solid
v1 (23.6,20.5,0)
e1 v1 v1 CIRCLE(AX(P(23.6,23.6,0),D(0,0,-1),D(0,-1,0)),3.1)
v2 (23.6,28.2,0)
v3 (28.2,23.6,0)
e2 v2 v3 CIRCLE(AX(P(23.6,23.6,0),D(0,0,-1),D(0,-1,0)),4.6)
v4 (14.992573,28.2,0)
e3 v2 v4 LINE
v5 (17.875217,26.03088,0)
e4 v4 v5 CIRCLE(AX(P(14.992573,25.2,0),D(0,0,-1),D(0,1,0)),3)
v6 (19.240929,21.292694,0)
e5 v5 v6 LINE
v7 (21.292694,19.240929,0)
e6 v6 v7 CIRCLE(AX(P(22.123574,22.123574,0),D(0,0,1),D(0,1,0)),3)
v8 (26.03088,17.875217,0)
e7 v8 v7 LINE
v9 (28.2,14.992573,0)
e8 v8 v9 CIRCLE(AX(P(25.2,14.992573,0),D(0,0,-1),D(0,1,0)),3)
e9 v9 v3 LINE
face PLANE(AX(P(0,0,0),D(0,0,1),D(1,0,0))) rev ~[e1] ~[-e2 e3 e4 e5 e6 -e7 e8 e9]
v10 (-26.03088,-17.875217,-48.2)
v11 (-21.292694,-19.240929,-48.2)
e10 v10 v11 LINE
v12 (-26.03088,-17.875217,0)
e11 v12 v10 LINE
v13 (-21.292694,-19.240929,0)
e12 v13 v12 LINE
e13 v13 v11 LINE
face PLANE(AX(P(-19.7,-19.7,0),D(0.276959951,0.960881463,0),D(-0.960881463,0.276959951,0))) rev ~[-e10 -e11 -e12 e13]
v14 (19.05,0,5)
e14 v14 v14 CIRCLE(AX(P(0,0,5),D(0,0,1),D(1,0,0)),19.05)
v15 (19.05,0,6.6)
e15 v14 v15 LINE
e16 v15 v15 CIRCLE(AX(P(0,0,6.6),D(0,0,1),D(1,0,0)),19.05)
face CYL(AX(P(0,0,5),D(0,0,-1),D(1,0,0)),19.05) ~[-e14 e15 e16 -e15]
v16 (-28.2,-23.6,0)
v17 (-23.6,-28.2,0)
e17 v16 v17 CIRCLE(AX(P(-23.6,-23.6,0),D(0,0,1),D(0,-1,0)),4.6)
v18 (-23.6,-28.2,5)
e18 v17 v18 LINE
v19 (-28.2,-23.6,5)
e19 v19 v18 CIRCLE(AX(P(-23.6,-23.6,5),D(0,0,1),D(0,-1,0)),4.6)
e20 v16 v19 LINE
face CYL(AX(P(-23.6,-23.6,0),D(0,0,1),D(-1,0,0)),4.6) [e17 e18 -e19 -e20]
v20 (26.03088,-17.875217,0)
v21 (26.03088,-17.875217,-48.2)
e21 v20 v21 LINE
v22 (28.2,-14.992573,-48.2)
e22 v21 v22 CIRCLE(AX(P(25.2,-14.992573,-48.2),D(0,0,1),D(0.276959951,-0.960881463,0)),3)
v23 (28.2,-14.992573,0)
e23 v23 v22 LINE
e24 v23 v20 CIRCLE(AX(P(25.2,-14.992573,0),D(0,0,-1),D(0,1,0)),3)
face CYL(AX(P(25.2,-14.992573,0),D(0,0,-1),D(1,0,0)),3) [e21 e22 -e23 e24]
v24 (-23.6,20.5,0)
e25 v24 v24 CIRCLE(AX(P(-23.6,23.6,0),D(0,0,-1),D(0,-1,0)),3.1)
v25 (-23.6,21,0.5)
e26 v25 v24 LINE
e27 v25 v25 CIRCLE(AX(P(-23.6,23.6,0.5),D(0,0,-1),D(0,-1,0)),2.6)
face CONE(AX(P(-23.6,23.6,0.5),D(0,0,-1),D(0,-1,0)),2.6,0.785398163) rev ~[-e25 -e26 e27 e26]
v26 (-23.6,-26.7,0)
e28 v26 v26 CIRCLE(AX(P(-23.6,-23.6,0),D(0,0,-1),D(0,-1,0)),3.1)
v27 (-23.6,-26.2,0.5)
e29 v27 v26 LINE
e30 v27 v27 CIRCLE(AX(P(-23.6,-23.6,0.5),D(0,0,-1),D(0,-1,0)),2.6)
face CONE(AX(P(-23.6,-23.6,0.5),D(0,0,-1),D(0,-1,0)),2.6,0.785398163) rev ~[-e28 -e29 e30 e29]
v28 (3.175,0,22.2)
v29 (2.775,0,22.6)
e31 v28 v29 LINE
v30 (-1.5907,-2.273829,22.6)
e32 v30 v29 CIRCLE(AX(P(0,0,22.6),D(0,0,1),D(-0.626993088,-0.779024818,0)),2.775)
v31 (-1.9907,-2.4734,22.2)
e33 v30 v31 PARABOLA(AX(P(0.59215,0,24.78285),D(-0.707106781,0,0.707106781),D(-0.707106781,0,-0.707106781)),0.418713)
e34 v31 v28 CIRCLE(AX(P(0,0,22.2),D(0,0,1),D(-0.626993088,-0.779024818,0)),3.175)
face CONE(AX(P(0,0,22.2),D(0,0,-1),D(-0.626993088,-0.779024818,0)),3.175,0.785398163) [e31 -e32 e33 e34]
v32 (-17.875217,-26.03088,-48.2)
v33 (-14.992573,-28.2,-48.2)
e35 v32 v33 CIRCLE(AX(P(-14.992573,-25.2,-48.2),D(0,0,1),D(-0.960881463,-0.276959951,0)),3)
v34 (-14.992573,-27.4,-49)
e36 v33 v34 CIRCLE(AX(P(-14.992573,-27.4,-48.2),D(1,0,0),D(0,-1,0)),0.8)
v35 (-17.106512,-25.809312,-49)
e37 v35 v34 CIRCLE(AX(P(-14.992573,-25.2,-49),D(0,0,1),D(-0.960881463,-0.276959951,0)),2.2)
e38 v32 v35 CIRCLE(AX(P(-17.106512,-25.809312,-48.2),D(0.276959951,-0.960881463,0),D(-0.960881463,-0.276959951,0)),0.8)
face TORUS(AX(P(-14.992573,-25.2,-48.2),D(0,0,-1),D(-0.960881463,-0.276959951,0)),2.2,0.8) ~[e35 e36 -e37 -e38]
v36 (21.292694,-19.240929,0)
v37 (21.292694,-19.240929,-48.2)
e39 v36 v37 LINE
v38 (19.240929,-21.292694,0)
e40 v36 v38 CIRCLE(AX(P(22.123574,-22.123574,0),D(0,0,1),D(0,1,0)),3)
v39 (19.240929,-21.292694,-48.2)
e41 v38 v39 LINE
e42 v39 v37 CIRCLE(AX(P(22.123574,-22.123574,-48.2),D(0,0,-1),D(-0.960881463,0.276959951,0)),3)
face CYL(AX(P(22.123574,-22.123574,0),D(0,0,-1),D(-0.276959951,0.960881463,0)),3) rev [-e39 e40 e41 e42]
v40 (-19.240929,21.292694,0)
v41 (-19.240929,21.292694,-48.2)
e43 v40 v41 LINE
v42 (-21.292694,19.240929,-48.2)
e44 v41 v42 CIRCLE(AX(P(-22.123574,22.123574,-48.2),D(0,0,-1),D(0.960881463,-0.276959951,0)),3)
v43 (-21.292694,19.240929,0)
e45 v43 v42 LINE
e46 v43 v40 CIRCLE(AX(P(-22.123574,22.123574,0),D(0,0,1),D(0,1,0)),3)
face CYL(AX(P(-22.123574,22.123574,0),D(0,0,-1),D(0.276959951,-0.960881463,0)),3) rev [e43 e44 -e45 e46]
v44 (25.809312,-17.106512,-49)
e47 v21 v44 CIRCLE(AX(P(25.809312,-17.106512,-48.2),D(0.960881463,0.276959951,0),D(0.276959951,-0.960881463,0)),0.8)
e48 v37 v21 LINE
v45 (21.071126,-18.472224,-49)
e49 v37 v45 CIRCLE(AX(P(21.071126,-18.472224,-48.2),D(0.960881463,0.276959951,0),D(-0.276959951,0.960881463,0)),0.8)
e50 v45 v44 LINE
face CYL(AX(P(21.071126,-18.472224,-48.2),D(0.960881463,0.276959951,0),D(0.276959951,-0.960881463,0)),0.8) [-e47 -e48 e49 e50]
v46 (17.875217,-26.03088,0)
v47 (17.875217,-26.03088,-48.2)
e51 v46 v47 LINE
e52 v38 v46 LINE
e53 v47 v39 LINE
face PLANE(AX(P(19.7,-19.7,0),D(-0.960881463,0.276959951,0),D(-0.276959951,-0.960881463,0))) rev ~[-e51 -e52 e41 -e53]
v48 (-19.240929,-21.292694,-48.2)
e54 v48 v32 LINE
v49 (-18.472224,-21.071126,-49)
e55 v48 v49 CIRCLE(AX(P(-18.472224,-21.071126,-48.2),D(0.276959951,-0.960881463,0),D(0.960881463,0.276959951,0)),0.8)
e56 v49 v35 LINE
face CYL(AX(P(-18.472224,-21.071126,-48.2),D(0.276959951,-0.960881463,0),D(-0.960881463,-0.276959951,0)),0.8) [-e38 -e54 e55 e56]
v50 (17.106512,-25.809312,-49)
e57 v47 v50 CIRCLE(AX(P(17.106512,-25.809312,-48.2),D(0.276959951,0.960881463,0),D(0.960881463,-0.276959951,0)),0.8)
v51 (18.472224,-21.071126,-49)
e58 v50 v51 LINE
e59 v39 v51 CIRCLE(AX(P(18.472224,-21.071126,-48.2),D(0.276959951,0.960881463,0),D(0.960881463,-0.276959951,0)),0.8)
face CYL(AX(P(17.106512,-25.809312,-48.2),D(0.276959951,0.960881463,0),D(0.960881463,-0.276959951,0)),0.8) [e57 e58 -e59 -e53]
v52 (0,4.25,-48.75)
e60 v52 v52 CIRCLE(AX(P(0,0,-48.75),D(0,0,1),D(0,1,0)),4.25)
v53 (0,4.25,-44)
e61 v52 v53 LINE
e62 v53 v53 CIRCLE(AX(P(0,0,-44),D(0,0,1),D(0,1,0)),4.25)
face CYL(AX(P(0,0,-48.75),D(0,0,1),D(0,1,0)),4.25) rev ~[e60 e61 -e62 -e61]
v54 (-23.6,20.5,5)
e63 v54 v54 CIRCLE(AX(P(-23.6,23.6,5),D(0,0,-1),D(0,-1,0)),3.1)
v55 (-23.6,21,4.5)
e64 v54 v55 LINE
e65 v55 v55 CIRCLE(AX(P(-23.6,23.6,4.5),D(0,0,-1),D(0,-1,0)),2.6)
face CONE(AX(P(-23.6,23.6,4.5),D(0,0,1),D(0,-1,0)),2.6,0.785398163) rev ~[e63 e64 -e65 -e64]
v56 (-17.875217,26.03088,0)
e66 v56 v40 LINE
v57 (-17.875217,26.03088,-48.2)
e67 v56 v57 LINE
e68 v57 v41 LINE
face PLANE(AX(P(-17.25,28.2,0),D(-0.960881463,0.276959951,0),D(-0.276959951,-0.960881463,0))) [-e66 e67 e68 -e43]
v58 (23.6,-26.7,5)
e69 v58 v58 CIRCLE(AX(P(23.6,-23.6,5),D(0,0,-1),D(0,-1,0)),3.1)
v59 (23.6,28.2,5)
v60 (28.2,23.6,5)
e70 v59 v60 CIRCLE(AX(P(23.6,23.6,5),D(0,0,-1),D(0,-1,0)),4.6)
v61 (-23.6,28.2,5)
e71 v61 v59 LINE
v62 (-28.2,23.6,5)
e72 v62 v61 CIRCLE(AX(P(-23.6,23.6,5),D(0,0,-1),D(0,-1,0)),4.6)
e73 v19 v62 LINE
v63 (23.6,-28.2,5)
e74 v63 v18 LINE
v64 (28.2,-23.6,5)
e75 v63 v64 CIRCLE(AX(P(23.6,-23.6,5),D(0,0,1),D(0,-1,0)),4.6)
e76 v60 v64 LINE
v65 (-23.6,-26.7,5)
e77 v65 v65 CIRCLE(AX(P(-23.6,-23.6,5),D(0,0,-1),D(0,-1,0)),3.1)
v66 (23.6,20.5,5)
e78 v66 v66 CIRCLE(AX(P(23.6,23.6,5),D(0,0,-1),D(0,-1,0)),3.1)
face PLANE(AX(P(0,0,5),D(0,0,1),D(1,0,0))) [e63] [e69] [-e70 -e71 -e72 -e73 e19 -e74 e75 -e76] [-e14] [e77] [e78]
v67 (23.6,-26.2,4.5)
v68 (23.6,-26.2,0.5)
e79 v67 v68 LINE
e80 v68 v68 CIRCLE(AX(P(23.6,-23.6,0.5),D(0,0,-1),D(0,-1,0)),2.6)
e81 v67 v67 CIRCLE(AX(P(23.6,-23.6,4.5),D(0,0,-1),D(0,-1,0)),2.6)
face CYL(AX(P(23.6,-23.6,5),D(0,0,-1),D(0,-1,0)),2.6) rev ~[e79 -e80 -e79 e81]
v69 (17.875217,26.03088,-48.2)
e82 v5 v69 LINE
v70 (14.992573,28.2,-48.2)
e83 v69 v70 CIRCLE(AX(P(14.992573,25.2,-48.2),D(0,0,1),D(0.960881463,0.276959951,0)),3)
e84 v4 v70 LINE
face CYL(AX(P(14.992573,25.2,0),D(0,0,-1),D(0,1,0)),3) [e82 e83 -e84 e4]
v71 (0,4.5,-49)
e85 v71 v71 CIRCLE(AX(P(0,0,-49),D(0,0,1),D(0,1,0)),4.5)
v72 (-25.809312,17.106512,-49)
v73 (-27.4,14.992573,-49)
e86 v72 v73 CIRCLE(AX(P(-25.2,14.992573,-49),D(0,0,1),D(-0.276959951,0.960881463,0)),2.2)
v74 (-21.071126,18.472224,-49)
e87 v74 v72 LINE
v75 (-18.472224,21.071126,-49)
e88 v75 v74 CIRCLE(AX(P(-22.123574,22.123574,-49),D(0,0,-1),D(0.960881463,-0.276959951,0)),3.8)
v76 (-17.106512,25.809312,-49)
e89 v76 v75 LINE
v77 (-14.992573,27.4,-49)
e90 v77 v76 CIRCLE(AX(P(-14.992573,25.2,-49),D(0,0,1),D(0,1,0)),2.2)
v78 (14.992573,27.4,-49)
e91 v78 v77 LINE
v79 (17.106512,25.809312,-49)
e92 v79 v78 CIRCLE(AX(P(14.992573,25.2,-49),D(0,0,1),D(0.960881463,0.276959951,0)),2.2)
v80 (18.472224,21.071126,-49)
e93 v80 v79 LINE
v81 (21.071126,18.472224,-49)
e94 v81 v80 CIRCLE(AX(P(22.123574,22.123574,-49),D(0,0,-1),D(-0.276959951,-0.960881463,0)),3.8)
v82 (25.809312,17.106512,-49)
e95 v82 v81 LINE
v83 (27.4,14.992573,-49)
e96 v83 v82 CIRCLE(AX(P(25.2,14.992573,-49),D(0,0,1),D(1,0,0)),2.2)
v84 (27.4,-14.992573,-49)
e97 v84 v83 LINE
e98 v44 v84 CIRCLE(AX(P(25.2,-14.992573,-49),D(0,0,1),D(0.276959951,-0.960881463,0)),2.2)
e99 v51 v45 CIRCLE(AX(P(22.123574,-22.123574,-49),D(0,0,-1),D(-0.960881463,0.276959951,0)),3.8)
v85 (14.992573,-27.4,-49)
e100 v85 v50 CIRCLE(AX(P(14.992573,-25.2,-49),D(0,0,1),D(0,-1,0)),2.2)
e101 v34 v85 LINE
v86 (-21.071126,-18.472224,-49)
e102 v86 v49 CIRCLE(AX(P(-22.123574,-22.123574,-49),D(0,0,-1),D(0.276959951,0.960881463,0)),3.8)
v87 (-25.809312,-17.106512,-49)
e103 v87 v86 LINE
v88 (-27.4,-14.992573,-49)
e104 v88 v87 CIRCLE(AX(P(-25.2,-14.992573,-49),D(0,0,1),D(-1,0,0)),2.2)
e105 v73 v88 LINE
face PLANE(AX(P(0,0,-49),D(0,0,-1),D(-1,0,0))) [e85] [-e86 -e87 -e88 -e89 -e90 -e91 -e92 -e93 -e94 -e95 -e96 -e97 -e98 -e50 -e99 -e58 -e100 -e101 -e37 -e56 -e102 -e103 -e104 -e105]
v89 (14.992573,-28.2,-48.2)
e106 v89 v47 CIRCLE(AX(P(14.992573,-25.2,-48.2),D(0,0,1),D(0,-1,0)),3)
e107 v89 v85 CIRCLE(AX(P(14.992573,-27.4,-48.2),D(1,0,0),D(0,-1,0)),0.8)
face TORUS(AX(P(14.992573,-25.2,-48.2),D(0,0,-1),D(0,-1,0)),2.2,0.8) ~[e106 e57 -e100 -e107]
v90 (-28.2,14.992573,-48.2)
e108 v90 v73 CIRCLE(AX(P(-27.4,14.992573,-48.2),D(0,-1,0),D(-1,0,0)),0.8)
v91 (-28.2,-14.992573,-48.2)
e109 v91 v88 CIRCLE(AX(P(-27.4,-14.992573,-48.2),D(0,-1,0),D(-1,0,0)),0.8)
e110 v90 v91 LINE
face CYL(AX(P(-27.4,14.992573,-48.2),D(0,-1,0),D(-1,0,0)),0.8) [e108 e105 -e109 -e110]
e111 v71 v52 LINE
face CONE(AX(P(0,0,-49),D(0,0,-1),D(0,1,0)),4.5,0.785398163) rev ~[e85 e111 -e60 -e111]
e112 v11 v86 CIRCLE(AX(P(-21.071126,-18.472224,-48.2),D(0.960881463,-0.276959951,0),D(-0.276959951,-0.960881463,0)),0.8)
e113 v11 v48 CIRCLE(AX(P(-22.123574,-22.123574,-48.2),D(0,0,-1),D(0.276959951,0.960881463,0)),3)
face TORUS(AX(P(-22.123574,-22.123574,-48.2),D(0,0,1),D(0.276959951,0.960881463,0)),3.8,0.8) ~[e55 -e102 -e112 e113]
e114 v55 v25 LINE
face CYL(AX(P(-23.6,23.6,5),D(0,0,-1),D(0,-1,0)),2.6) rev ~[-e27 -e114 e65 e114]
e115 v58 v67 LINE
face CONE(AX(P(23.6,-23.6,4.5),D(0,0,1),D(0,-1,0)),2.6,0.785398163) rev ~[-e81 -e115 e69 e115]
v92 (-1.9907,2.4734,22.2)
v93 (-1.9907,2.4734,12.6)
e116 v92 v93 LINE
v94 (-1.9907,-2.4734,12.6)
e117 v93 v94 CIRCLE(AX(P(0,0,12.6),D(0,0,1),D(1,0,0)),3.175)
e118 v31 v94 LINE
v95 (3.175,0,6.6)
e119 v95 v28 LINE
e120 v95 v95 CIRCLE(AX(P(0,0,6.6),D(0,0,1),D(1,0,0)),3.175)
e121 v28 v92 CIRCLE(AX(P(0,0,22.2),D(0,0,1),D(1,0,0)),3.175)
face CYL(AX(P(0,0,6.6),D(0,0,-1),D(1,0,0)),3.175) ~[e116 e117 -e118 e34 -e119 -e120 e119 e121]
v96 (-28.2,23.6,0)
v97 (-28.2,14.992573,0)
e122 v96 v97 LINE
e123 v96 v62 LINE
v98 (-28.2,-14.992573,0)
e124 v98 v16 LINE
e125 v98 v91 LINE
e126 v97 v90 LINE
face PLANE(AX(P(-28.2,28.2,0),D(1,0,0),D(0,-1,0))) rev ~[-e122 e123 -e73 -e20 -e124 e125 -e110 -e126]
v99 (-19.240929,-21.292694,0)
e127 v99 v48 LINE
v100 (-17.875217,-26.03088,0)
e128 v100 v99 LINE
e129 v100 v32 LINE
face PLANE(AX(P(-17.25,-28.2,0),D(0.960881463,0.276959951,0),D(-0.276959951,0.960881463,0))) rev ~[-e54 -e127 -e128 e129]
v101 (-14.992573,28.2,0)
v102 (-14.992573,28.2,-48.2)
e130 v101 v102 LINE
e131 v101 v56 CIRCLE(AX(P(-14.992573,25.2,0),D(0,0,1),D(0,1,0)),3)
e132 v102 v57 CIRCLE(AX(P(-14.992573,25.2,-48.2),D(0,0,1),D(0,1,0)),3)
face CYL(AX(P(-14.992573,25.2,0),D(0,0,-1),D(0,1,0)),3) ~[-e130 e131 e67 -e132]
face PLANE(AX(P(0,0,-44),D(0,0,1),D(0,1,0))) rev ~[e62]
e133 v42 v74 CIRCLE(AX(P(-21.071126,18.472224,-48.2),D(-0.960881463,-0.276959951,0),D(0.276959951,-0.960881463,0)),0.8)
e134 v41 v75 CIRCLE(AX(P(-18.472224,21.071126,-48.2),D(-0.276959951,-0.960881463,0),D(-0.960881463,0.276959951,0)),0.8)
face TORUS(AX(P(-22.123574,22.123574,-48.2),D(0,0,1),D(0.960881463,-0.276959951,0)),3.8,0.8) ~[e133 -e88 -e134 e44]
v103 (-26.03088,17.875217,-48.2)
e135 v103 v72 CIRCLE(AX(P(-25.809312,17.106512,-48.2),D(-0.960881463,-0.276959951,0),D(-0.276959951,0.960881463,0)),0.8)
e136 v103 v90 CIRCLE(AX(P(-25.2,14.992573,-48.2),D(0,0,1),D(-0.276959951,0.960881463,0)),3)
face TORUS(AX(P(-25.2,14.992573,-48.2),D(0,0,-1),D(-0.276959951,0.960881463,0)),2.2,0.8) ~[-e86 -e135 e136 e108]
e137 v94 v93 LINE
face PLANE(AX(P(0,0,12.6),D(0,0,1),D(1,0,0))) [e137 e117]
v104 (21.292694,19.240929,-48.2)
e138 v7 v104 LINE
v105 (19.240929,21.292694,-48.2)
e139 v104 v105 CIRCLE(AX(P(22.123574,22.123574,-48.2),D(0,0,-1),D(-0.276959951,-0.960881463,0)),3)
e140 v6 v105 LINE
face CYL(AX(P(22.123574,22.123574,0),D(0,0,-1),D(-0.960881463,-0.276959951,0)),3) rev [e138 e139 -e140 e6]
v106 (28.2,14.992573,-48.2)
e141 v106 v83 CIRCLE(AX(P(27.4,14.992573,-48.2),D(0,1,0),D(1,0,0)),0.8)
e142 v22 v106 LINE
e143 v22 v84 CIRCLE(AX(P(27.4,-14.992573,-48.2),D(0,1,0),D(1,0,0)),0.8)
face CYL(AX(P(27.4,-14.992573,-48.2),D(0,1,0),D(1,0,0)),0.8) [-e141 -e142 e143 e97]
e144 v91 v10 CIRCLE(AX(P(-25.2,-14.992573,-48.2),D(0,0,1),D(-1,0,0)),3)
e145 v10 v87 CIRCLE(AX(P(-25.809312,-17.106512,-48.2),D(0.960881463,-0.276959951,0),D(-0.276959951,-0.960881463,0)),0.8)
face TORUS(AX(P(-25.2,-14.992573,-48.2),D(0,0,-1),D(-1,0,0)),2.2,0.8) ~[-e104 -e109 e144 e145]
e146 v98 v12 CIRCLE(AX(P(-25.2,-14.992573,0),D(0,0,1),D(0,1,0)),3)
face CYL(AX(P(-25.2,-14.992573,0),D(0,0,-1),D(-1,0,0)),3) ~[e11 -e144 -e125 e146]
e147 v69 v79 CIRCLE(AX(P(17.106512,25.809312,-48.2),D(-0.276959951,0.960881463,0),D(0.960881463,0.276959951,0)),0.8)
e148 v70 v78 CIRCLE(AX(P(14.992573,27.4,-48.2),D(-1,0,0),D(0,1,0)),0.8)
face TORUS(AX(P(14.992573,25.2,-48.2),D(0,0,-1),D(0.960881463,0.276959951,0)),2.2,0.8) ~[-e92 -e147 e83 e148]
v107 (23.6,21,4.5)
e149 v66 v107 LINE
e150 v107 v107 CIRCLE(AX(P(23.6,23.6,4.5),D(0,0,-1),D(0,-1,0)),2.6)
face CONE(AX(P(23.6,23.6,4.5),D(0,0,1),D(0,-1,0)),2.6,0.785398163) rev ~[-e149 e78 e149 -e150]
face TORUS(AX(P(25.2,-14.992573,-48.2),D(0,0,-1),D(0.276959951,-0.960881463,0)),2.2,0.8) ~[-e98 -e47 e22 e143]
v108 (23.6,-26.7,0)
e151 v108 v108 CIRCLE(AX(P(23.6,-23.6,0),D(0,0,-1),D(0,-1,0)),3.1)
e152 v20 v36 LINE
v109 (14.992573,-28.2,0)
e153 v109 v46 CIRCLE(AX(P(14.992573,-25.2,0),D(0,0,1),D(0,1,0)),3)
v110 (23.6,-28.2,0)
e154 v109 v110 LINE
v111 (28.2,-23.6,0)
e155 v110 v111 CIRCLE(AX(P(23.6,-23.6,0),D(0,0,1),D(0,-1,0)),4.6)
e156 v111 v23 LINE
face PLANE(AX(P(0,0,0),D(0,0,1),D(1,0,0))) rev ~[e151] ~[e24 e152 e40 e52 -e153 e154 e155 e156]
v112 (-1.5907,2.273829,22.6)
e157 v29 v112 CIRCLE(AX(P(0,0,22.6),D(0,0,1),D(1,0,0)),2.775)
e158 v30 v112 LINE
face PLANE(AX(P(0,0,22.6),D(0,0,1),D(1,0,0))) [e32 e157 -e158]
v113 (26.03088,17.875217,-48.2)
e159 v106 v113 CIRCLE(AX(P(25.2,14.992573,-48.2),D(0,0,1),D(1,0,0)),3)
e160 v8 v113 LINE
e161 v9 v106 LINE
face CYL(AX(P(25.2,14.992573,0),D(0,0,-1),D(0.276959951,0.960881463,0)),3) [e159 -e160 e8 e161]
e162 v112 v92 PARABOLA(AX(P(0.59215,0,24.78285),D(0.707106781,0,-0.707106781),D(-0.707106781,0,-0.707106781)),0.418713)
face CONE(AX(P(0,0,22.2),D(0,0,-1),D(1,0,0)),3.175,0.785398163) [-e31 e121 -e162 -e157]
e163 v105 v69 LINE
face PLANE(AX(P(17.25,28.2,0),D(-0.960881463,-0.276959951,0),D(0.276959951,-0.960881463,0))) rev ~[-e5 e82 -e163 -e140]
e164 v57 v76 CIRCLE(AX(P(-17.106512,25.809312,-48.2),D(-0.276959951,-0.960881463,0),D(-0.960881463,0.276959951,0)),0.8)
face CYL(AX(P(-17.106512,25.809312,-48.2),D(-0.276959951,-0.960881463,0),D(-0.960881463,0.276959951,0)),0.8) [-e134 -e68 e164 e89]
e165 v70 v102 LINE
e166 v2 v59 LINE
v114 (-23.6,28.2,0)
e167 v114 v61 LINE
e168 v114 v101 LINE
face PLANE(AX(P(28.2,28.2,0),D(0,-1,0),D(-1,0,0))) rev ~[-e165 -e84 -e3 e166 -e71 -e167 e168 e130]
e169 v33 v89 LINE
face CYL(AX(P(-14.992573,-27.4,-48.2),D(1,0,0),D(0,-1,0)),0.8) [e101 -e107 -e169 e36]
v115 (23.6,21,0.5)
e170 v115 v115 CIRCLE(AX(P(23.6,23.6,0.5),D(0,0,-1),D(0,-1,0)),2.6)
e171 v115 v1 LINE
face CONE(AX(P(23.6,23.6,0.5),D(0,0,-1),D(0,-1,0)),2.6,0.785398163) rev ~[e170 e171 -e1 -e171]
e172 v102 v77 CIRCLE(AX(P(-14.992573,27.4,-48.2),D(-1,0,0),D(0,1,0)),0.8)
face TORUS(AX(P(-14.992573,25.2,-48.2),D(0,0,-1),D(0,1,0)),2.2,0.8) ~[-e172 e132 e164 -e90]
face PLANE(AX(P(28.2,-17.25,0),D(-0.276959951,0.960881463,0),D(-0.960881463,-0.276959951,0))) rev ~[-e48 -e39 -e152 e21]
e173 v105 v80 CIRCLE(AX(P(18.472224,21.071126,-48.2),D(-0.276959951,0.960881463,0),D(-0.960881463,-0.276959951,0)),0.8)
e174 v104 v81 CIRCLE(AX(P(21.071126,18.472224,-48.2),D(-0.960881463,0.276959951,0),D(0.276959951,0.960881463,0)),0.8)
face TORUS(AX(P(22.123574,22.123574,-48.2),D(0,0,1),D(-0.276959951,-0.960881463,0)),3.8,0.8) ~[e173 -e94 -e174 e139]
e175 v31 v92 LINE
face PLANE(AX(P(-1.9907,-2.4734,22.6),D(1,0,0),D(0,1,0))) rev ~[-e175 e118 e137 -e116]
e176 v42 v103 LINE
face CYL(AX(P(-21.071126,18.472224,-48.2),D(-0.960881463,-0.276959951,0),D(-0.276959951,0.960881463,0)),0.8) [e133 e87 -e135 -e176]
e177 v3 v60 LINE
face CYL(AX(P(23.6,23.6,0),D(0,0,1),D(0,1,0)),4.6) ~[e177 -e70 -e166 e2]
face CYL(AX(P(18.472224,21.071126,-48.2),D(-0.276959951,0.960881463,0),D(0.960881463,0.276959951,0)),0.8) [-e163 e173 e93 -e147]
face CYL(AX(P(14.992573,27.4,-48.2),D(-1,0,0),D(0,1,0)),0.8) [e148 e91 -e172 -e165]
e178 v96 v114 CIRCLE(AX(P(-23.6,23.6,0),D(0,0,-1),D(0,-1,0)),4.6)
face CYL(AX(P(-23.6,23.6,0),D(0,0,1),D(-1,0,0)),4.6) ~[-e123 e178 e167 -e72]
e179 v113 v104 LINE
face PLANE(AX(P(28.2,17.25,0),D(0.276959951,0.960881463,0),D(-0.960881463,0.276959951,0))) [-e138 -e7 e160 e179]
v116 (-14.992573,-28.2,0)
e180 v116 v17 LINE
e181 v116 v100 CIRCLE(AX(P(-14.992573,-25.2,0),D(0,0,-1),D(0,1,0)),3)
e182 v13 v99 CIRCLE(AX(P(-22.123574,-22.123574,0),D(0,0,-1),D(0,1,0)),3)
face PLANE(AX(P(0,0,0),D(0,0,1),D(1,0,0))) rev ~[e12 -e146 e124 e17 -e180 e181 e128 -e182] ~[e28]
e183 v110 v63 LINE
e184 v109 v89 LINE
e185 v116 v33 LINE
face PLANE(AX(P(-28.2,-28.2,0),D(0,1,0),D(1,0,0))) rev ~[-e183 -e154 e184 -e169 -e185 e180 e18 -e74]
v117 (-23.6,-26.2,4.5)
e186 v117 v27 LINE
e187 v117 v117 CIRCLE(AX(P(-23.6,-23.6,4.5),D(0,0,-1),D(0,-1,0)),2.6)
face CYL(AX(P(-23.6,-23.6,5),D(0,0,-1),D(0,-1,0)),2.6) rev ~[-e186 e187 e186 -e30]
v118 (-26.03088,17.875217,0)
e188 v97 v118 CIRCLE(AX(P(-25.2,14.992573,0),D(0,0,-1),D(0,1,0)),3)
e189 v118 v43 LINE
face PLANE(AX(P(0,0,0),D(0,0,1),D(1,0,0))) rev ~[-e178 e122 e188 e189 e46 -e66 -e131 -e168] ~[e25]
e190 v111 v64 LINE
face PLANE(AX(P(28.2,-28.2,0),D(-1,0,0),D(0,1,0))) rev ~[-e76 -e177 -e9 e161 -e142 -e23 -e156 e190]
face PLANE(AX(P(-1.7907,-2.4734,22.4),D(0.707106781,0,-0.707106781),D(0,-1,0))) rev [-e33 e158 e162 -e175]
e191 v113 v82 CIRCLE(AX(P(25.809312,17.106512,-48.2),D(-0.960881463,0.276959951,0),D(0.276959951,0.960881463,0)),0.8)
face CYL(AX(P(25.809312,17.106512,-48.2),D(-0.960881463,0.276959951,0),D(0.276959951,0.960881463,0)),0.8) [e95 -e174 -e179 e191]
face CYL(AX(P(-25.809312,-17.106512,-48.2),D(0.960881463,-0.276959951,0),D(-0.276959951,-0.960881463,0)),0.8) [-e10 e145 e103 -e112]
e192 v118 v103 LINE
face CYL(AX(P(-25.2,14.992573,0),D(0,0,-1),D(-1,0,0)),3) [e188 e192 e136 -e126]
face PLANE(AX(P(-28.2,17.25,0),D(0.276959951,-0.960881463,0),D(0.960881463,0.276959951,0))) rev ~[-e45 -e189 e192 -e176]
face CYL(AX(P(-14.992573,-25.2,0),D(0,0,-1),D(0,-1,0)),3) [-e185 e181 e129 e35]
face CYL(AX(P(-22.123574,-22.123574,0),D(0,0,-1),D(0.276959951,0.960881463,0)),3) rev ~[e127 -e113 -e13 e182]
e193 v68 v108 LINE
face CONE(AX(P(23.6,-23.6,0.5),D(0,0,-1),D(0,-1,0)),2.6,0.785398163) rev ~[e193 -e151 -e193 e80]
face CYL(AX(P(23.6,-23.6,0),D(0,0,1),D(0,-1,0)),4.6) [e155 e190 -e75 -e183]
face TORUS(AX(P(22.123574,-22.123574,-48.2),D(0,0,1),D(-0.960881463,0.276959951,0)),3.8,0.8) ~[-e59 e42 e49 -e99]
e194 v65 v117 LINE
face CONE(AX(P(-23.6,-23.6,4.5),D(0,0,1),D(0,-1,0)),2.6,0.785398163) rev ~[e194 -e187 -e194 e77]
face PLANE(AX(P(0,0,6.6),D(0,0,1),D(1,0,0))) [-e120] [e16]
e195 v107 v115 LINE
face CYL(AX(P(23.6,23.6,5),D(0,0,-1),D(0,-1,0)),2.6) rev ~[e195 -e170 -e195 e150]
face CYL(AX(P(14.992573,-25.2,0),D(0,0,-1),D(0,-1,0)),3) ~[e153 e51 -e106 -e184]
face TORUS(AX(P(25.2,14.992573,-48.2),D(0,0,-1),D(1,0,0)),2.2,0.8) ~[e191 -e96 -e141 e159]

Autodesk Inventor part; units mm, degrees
ref_plane "YZ Plane" through (0, 0, 0) normal (1, 0, 0) x (0, 1, 0)
ref_plane "XZ Plane" through (0, 0, 0) normal (0, 1, 0) x (-1, 0, 0)
ref_plane "XY Plane" through (0, 0, 0) normal (0, 0, 1) x (1, 0, 0)
sketch "Náčrt1" plane through (0, 0, 0) normal (0, 0, 1) x (1, 0, 0)
  line L0 (0, 0) -> (-28.2, 0)
  line L1 (-28.2, 0) -> (-28.2, -28.2)
  line L2 (-28.2, -28.2) -> (0, -28.2)
  line L3 (0, -28.2) -> (28.2, -28.2)
  line L4 (28.2, -28.2) -> (28.2, 28.2)
  line L5 (28.2, 28.2) -> (-28.2, 28.2)
  line L6 (-28.2, 28.2) -> (-28.2, 0)
  dimension "d0" = 28.2
  dimension "d1" = 28.2
  dimension "d2" = 28.2
  dimension "d3" = 56.4
extrude "Vysunutí1" add sketch "Náčrt1" along normal blind 54
sketch "Náčrt2" plane through (0, 0, 0) normal (0, 0, -1) x (-1, 0, 0)
  line L0 (28.2, 28.2) -> (28.2, -28.2) projected
  line L1 (-28.2, 28.2) -> (28.2, 28.2) projected
  line L2 (-28.2, -28.2) -> (-28.2, 28.2) projected
  line L3 (28.2, -28.2) -> (-28.2, -28.2) projected
  line L4 (28.2, 0) -> (28.2, -17.25)
  line L5 (17.25, -28.2) -> (-17.25, -28.2)
  line L6 (-17.25, -28.2) -> (-28.2, -17.25)
  line L7 (-28.2, -17.25) -> (-28.2, 17.25)
  line L8 (-28.2, 17.25) -> (-17.25, 28.2)
  line L9 (17.25, 28.2) -> (28.2, 17.25)
  line L10 (28.2, 17.25) -> (28.2, 0)
  line L11 (28.2, -28.2) -> (19.7, -28.2)
  line L12 (19.7, -28.2) -> (19.7, -19.7)
  line L13 (19.7, -19.7) -> (28.2, -19.7)
  line L14 (28.2, -19.7) -> (28.2, -28.2)
  line L15 (-28.2, -28.2) -> (-19.7, -28.2)
  line L16 (-19.7, -28.2) -> (-19.7, -19.7)
  line L17 (-19.7, -19.7) -> (-28.2, -19.7)
  line L18 (-28.2, -19.7) -> (-28.2, -28.2)
  line L19 (-28.2, 28.2) -> (-19.7, 28.2)
  line L20 (-19.7, 28.2) -> (-19.7, 19.7)
  line L21 (-19.7, 19.7) -> (-28.2, 19.7)
  line L22 (-28.2, 19.7) -> (-28.2, 28.2)
  line L23 (28.2, 28.2) -> (19.7, 28.2)
  line L24 (19.7, 28.2) -> (19.7, 19.7)
  line L25 (19.7, 19.7) -> (28.2, 19.7)
  line L26 (28.2, 19.7) -> (28.2, 28.2)
  line L27 (28.2, 17.25) -> (19.7, 19.7)
  line L28 (17.25, 28.2) -> (19.7, 19.7)
  line L29 (-17.25, 28.2) -> (-19.7, 19.7)
  line L30 (-28.2, 17.25) -> (-19.7, 19.7)
  line L31 (-28.2, -17.25) -> (-19.7, -19.7)
  line L32 (-19.7, -19.7) -> (-17.25, -28.2)
  line L33 (17.25, -28.2) -> (19.7, -19.7)
  line L34 (19.7, -19.7) -> (28.2, -17.25)
  line L35 (28.2, -17.25) -> (25.75, -19.7)
  line L36 (19.7, -25.75) -> (17.25, -28.2)
  point P0 (0, 0)
  dimension "d6" = 17.25
  dimension "d8" = 34.5
  dimension "d9" = 34.5
  dimension "d10" = 8.5
  dimension "d11" = 8.5
  dimension "d12" = 8.5
  dimension "d13" = 8.5
  dimension "d14" = 8.5
extrude "Vysunutí2" add sketch "Náčrt2" along normal blind 49 contours L0 L34 L33 L3 L32 L31 L2 L30 L29 L1 L28 L27
sketch "Náčrt3" plane through (0, 0, 54) normal (0, 0, 1) x (1, 0, 0)
  line L0 (-28.2, -28.2) -> (-28.2, 28.2) projected
  line L1 (28.2, -28.2) -> (-28.2, -28.2) projected
  line L2 (28.2, -28.2) -> (-28.2, -28.2)
  line L3 (-28.2, -28.2) -> (-28.2, 28.2)
  line L4 (-28.2, 28.2) -> (28.2, 28.2)
  line L5 (28.2, 28.2) -> (28.2, -28.2)
  point P0 (0, 0)
extrude "Vysunutí3" cut sketch "Náčrt3" against normal blind 49
fillet "Zaoblení1" radius 3 12 edges at (-17.25, -28.2, -24.5) (-19.7, -19.7, -24.5) (-28.2, -17.25, -24.5) (17.25, -28.2, -24.5) (19.7, -19.7, -24.5) (28.2, -17.25, -24.5) (28.2, 17.25, -24.5) (19.7, 19.7, -24.5) (17.25, 28.2, -24.5) (-17.25, 28.2, -24.5) (-19.7, 19.7, -24.5) (-28.2, 17.25, -24.5)
fillet "Zaoblení2" radius 4.6 4 edges at (28.2, 28.2, 2.5) (28.2, -28.2, 2.5) (-28.2, -28.2, 2.5) (-28.2, 28.2, 2.5)
sketch "Náčrt4" plane through (0, 0, 5) normal (0, 0, 1) x (1, 0, 0)
  circle A0 centre (0, 0) radius 19.05
  dimension "d21" = 38.1
extrude "Vysunutí4" add sketch "Náčrt4" along normal blind 1.6
sketch "Náčrt5" plane through (0, 0, 6.6) normal (0, 0, 1) x (1, 0, 0)
  circle A0 centre (0, 0) radius 19.05 projected
  circle A1 centre (0, 0) radius 3.175
  dimension "d24" = 6.35
extrude "Vysunutí5" add sketch "Náčrt5" along normal blind 16 contours A1
sketch "Náčrt6" plane through (0, 0, 5) normal (0, 0, 1) x (1, 0, 0)
  arc A0 (-23.6, 28.2) -> (-28.2, 23.6) centre (-23.6, 23.6) ccw projected
hole "Díra1" at (-23.6, 23.6, 5) direction (0, 0, -1) diameter 5.2 end through all
sketch "Náčrt7" plane through (0, 0, 5) normal (0, 0, 1) x (1, 0, 0)
  arc A0 (28.2, 23.6) -> (23.6, 28.2) centre (23.6, 23.6) ccw projected
hole "Díra2" at (23.6, 23.6, 5) direction (0, 0, -1) diameter 5.2 end through all
sketch "Náčrt8" plane through (0, 0, 5) normal (0, 0, 1) x (1, 0, 0)
  arc A0 (23.6, -28.2) -> (28.2, -23.6) centre (23.6, -23.6) ccw projected
hole "Díra3" at (23.6, -23.6, 5) direction (0, 0, -1) diameter 5.2 end through all
sketch "Náčrt9" plane through (0, 0, 5) normal (0, 0, 1) x (1, 0, 0)
  arc A0 (-28.2, -23.6) -> (-23.6, -28.2) centre (-23.6, -23.6) ccw projected
hole "Díra4" at (-23.6, -23.6, 5) direction (0, 0, -1) diameter 5.2 end through all
sketch "Náčrt10" plane through (0, 0, -49) normal (0, 0, -1) x (-1, 0, 0)
  point P0 (0, 0)
hole "Díra5" at (0, 0, -49) direction (0, 0, 1) diameter 8.5 depth 5 countersink diameter 9 countersink angle 90
sketch "Náčrt15" plane through (0, 0, 22.6) normal (0, 0, 1) x (1, 0, 0)
  circle A0 centre (0, 0) radius 3.175 projected
  line L0 (-1.9907, -2.4734) -> (-1.9907, 2.4734)
extrude "Vysunutí10" cut sketch "Náčrt15" against normal blind 10 contours L0 A0 picked at (-2.3855, 0)
chamfer "Zkosení1" distance 0.4 angle 45 3 edges at (-1.9907, 0, 22.6) (1.3712, -2.8637, 22.6) (1.3712, 2.8637, 22.6)
chamfer "Zkosení2" distance 0.5 angle 45 8 edges at (-23.6, 26.2, 5) (23.6, 26.2, 5) (23.6, -21, 5) (-23.6, -21, 5) (-23.6, -21, 0) (23.6, -21, 0) (23.6, 26.2, 0) (-23.6, 26.2, 0)
fillet "Zaoblení3" radius 0.8 24 edges at (0, 28.2, -49) (-16.7964, 27.5971, -49) (-18.5581, 23.6618, -49) (-20.0023, 20.0023, -49) (-23.6618, 18.5581, -49) (-27.5971, 16.7964, -49) (-28.2, 0, -49) (-27.5971, -16.7964, -49) (-23.6618, -18.5581, -49) (-20.0023, -20.0023, -49) (-18.5581, -23.6618, -49) (-16.7964, -27.5971, -49) (0, -28.2, -49) (16.7964, -27.5971, -49) (18.5581, -23.6618, -49) (20.0023, -20.0023, -49) (23.6618, -18.5581, -49) (27.5971, -16.7964, -49) (28.2, 0, -49) (27.5971, 16.7964, -49) (23.6618, 18.5581, -49) (20.0023, 20.0023, -49) (18.5581, 23.6618, -49) (16.7964, 27.5971, -49)
properties part number "nema 23 stepper" material "Steel, High Strength, Low Alloy"
